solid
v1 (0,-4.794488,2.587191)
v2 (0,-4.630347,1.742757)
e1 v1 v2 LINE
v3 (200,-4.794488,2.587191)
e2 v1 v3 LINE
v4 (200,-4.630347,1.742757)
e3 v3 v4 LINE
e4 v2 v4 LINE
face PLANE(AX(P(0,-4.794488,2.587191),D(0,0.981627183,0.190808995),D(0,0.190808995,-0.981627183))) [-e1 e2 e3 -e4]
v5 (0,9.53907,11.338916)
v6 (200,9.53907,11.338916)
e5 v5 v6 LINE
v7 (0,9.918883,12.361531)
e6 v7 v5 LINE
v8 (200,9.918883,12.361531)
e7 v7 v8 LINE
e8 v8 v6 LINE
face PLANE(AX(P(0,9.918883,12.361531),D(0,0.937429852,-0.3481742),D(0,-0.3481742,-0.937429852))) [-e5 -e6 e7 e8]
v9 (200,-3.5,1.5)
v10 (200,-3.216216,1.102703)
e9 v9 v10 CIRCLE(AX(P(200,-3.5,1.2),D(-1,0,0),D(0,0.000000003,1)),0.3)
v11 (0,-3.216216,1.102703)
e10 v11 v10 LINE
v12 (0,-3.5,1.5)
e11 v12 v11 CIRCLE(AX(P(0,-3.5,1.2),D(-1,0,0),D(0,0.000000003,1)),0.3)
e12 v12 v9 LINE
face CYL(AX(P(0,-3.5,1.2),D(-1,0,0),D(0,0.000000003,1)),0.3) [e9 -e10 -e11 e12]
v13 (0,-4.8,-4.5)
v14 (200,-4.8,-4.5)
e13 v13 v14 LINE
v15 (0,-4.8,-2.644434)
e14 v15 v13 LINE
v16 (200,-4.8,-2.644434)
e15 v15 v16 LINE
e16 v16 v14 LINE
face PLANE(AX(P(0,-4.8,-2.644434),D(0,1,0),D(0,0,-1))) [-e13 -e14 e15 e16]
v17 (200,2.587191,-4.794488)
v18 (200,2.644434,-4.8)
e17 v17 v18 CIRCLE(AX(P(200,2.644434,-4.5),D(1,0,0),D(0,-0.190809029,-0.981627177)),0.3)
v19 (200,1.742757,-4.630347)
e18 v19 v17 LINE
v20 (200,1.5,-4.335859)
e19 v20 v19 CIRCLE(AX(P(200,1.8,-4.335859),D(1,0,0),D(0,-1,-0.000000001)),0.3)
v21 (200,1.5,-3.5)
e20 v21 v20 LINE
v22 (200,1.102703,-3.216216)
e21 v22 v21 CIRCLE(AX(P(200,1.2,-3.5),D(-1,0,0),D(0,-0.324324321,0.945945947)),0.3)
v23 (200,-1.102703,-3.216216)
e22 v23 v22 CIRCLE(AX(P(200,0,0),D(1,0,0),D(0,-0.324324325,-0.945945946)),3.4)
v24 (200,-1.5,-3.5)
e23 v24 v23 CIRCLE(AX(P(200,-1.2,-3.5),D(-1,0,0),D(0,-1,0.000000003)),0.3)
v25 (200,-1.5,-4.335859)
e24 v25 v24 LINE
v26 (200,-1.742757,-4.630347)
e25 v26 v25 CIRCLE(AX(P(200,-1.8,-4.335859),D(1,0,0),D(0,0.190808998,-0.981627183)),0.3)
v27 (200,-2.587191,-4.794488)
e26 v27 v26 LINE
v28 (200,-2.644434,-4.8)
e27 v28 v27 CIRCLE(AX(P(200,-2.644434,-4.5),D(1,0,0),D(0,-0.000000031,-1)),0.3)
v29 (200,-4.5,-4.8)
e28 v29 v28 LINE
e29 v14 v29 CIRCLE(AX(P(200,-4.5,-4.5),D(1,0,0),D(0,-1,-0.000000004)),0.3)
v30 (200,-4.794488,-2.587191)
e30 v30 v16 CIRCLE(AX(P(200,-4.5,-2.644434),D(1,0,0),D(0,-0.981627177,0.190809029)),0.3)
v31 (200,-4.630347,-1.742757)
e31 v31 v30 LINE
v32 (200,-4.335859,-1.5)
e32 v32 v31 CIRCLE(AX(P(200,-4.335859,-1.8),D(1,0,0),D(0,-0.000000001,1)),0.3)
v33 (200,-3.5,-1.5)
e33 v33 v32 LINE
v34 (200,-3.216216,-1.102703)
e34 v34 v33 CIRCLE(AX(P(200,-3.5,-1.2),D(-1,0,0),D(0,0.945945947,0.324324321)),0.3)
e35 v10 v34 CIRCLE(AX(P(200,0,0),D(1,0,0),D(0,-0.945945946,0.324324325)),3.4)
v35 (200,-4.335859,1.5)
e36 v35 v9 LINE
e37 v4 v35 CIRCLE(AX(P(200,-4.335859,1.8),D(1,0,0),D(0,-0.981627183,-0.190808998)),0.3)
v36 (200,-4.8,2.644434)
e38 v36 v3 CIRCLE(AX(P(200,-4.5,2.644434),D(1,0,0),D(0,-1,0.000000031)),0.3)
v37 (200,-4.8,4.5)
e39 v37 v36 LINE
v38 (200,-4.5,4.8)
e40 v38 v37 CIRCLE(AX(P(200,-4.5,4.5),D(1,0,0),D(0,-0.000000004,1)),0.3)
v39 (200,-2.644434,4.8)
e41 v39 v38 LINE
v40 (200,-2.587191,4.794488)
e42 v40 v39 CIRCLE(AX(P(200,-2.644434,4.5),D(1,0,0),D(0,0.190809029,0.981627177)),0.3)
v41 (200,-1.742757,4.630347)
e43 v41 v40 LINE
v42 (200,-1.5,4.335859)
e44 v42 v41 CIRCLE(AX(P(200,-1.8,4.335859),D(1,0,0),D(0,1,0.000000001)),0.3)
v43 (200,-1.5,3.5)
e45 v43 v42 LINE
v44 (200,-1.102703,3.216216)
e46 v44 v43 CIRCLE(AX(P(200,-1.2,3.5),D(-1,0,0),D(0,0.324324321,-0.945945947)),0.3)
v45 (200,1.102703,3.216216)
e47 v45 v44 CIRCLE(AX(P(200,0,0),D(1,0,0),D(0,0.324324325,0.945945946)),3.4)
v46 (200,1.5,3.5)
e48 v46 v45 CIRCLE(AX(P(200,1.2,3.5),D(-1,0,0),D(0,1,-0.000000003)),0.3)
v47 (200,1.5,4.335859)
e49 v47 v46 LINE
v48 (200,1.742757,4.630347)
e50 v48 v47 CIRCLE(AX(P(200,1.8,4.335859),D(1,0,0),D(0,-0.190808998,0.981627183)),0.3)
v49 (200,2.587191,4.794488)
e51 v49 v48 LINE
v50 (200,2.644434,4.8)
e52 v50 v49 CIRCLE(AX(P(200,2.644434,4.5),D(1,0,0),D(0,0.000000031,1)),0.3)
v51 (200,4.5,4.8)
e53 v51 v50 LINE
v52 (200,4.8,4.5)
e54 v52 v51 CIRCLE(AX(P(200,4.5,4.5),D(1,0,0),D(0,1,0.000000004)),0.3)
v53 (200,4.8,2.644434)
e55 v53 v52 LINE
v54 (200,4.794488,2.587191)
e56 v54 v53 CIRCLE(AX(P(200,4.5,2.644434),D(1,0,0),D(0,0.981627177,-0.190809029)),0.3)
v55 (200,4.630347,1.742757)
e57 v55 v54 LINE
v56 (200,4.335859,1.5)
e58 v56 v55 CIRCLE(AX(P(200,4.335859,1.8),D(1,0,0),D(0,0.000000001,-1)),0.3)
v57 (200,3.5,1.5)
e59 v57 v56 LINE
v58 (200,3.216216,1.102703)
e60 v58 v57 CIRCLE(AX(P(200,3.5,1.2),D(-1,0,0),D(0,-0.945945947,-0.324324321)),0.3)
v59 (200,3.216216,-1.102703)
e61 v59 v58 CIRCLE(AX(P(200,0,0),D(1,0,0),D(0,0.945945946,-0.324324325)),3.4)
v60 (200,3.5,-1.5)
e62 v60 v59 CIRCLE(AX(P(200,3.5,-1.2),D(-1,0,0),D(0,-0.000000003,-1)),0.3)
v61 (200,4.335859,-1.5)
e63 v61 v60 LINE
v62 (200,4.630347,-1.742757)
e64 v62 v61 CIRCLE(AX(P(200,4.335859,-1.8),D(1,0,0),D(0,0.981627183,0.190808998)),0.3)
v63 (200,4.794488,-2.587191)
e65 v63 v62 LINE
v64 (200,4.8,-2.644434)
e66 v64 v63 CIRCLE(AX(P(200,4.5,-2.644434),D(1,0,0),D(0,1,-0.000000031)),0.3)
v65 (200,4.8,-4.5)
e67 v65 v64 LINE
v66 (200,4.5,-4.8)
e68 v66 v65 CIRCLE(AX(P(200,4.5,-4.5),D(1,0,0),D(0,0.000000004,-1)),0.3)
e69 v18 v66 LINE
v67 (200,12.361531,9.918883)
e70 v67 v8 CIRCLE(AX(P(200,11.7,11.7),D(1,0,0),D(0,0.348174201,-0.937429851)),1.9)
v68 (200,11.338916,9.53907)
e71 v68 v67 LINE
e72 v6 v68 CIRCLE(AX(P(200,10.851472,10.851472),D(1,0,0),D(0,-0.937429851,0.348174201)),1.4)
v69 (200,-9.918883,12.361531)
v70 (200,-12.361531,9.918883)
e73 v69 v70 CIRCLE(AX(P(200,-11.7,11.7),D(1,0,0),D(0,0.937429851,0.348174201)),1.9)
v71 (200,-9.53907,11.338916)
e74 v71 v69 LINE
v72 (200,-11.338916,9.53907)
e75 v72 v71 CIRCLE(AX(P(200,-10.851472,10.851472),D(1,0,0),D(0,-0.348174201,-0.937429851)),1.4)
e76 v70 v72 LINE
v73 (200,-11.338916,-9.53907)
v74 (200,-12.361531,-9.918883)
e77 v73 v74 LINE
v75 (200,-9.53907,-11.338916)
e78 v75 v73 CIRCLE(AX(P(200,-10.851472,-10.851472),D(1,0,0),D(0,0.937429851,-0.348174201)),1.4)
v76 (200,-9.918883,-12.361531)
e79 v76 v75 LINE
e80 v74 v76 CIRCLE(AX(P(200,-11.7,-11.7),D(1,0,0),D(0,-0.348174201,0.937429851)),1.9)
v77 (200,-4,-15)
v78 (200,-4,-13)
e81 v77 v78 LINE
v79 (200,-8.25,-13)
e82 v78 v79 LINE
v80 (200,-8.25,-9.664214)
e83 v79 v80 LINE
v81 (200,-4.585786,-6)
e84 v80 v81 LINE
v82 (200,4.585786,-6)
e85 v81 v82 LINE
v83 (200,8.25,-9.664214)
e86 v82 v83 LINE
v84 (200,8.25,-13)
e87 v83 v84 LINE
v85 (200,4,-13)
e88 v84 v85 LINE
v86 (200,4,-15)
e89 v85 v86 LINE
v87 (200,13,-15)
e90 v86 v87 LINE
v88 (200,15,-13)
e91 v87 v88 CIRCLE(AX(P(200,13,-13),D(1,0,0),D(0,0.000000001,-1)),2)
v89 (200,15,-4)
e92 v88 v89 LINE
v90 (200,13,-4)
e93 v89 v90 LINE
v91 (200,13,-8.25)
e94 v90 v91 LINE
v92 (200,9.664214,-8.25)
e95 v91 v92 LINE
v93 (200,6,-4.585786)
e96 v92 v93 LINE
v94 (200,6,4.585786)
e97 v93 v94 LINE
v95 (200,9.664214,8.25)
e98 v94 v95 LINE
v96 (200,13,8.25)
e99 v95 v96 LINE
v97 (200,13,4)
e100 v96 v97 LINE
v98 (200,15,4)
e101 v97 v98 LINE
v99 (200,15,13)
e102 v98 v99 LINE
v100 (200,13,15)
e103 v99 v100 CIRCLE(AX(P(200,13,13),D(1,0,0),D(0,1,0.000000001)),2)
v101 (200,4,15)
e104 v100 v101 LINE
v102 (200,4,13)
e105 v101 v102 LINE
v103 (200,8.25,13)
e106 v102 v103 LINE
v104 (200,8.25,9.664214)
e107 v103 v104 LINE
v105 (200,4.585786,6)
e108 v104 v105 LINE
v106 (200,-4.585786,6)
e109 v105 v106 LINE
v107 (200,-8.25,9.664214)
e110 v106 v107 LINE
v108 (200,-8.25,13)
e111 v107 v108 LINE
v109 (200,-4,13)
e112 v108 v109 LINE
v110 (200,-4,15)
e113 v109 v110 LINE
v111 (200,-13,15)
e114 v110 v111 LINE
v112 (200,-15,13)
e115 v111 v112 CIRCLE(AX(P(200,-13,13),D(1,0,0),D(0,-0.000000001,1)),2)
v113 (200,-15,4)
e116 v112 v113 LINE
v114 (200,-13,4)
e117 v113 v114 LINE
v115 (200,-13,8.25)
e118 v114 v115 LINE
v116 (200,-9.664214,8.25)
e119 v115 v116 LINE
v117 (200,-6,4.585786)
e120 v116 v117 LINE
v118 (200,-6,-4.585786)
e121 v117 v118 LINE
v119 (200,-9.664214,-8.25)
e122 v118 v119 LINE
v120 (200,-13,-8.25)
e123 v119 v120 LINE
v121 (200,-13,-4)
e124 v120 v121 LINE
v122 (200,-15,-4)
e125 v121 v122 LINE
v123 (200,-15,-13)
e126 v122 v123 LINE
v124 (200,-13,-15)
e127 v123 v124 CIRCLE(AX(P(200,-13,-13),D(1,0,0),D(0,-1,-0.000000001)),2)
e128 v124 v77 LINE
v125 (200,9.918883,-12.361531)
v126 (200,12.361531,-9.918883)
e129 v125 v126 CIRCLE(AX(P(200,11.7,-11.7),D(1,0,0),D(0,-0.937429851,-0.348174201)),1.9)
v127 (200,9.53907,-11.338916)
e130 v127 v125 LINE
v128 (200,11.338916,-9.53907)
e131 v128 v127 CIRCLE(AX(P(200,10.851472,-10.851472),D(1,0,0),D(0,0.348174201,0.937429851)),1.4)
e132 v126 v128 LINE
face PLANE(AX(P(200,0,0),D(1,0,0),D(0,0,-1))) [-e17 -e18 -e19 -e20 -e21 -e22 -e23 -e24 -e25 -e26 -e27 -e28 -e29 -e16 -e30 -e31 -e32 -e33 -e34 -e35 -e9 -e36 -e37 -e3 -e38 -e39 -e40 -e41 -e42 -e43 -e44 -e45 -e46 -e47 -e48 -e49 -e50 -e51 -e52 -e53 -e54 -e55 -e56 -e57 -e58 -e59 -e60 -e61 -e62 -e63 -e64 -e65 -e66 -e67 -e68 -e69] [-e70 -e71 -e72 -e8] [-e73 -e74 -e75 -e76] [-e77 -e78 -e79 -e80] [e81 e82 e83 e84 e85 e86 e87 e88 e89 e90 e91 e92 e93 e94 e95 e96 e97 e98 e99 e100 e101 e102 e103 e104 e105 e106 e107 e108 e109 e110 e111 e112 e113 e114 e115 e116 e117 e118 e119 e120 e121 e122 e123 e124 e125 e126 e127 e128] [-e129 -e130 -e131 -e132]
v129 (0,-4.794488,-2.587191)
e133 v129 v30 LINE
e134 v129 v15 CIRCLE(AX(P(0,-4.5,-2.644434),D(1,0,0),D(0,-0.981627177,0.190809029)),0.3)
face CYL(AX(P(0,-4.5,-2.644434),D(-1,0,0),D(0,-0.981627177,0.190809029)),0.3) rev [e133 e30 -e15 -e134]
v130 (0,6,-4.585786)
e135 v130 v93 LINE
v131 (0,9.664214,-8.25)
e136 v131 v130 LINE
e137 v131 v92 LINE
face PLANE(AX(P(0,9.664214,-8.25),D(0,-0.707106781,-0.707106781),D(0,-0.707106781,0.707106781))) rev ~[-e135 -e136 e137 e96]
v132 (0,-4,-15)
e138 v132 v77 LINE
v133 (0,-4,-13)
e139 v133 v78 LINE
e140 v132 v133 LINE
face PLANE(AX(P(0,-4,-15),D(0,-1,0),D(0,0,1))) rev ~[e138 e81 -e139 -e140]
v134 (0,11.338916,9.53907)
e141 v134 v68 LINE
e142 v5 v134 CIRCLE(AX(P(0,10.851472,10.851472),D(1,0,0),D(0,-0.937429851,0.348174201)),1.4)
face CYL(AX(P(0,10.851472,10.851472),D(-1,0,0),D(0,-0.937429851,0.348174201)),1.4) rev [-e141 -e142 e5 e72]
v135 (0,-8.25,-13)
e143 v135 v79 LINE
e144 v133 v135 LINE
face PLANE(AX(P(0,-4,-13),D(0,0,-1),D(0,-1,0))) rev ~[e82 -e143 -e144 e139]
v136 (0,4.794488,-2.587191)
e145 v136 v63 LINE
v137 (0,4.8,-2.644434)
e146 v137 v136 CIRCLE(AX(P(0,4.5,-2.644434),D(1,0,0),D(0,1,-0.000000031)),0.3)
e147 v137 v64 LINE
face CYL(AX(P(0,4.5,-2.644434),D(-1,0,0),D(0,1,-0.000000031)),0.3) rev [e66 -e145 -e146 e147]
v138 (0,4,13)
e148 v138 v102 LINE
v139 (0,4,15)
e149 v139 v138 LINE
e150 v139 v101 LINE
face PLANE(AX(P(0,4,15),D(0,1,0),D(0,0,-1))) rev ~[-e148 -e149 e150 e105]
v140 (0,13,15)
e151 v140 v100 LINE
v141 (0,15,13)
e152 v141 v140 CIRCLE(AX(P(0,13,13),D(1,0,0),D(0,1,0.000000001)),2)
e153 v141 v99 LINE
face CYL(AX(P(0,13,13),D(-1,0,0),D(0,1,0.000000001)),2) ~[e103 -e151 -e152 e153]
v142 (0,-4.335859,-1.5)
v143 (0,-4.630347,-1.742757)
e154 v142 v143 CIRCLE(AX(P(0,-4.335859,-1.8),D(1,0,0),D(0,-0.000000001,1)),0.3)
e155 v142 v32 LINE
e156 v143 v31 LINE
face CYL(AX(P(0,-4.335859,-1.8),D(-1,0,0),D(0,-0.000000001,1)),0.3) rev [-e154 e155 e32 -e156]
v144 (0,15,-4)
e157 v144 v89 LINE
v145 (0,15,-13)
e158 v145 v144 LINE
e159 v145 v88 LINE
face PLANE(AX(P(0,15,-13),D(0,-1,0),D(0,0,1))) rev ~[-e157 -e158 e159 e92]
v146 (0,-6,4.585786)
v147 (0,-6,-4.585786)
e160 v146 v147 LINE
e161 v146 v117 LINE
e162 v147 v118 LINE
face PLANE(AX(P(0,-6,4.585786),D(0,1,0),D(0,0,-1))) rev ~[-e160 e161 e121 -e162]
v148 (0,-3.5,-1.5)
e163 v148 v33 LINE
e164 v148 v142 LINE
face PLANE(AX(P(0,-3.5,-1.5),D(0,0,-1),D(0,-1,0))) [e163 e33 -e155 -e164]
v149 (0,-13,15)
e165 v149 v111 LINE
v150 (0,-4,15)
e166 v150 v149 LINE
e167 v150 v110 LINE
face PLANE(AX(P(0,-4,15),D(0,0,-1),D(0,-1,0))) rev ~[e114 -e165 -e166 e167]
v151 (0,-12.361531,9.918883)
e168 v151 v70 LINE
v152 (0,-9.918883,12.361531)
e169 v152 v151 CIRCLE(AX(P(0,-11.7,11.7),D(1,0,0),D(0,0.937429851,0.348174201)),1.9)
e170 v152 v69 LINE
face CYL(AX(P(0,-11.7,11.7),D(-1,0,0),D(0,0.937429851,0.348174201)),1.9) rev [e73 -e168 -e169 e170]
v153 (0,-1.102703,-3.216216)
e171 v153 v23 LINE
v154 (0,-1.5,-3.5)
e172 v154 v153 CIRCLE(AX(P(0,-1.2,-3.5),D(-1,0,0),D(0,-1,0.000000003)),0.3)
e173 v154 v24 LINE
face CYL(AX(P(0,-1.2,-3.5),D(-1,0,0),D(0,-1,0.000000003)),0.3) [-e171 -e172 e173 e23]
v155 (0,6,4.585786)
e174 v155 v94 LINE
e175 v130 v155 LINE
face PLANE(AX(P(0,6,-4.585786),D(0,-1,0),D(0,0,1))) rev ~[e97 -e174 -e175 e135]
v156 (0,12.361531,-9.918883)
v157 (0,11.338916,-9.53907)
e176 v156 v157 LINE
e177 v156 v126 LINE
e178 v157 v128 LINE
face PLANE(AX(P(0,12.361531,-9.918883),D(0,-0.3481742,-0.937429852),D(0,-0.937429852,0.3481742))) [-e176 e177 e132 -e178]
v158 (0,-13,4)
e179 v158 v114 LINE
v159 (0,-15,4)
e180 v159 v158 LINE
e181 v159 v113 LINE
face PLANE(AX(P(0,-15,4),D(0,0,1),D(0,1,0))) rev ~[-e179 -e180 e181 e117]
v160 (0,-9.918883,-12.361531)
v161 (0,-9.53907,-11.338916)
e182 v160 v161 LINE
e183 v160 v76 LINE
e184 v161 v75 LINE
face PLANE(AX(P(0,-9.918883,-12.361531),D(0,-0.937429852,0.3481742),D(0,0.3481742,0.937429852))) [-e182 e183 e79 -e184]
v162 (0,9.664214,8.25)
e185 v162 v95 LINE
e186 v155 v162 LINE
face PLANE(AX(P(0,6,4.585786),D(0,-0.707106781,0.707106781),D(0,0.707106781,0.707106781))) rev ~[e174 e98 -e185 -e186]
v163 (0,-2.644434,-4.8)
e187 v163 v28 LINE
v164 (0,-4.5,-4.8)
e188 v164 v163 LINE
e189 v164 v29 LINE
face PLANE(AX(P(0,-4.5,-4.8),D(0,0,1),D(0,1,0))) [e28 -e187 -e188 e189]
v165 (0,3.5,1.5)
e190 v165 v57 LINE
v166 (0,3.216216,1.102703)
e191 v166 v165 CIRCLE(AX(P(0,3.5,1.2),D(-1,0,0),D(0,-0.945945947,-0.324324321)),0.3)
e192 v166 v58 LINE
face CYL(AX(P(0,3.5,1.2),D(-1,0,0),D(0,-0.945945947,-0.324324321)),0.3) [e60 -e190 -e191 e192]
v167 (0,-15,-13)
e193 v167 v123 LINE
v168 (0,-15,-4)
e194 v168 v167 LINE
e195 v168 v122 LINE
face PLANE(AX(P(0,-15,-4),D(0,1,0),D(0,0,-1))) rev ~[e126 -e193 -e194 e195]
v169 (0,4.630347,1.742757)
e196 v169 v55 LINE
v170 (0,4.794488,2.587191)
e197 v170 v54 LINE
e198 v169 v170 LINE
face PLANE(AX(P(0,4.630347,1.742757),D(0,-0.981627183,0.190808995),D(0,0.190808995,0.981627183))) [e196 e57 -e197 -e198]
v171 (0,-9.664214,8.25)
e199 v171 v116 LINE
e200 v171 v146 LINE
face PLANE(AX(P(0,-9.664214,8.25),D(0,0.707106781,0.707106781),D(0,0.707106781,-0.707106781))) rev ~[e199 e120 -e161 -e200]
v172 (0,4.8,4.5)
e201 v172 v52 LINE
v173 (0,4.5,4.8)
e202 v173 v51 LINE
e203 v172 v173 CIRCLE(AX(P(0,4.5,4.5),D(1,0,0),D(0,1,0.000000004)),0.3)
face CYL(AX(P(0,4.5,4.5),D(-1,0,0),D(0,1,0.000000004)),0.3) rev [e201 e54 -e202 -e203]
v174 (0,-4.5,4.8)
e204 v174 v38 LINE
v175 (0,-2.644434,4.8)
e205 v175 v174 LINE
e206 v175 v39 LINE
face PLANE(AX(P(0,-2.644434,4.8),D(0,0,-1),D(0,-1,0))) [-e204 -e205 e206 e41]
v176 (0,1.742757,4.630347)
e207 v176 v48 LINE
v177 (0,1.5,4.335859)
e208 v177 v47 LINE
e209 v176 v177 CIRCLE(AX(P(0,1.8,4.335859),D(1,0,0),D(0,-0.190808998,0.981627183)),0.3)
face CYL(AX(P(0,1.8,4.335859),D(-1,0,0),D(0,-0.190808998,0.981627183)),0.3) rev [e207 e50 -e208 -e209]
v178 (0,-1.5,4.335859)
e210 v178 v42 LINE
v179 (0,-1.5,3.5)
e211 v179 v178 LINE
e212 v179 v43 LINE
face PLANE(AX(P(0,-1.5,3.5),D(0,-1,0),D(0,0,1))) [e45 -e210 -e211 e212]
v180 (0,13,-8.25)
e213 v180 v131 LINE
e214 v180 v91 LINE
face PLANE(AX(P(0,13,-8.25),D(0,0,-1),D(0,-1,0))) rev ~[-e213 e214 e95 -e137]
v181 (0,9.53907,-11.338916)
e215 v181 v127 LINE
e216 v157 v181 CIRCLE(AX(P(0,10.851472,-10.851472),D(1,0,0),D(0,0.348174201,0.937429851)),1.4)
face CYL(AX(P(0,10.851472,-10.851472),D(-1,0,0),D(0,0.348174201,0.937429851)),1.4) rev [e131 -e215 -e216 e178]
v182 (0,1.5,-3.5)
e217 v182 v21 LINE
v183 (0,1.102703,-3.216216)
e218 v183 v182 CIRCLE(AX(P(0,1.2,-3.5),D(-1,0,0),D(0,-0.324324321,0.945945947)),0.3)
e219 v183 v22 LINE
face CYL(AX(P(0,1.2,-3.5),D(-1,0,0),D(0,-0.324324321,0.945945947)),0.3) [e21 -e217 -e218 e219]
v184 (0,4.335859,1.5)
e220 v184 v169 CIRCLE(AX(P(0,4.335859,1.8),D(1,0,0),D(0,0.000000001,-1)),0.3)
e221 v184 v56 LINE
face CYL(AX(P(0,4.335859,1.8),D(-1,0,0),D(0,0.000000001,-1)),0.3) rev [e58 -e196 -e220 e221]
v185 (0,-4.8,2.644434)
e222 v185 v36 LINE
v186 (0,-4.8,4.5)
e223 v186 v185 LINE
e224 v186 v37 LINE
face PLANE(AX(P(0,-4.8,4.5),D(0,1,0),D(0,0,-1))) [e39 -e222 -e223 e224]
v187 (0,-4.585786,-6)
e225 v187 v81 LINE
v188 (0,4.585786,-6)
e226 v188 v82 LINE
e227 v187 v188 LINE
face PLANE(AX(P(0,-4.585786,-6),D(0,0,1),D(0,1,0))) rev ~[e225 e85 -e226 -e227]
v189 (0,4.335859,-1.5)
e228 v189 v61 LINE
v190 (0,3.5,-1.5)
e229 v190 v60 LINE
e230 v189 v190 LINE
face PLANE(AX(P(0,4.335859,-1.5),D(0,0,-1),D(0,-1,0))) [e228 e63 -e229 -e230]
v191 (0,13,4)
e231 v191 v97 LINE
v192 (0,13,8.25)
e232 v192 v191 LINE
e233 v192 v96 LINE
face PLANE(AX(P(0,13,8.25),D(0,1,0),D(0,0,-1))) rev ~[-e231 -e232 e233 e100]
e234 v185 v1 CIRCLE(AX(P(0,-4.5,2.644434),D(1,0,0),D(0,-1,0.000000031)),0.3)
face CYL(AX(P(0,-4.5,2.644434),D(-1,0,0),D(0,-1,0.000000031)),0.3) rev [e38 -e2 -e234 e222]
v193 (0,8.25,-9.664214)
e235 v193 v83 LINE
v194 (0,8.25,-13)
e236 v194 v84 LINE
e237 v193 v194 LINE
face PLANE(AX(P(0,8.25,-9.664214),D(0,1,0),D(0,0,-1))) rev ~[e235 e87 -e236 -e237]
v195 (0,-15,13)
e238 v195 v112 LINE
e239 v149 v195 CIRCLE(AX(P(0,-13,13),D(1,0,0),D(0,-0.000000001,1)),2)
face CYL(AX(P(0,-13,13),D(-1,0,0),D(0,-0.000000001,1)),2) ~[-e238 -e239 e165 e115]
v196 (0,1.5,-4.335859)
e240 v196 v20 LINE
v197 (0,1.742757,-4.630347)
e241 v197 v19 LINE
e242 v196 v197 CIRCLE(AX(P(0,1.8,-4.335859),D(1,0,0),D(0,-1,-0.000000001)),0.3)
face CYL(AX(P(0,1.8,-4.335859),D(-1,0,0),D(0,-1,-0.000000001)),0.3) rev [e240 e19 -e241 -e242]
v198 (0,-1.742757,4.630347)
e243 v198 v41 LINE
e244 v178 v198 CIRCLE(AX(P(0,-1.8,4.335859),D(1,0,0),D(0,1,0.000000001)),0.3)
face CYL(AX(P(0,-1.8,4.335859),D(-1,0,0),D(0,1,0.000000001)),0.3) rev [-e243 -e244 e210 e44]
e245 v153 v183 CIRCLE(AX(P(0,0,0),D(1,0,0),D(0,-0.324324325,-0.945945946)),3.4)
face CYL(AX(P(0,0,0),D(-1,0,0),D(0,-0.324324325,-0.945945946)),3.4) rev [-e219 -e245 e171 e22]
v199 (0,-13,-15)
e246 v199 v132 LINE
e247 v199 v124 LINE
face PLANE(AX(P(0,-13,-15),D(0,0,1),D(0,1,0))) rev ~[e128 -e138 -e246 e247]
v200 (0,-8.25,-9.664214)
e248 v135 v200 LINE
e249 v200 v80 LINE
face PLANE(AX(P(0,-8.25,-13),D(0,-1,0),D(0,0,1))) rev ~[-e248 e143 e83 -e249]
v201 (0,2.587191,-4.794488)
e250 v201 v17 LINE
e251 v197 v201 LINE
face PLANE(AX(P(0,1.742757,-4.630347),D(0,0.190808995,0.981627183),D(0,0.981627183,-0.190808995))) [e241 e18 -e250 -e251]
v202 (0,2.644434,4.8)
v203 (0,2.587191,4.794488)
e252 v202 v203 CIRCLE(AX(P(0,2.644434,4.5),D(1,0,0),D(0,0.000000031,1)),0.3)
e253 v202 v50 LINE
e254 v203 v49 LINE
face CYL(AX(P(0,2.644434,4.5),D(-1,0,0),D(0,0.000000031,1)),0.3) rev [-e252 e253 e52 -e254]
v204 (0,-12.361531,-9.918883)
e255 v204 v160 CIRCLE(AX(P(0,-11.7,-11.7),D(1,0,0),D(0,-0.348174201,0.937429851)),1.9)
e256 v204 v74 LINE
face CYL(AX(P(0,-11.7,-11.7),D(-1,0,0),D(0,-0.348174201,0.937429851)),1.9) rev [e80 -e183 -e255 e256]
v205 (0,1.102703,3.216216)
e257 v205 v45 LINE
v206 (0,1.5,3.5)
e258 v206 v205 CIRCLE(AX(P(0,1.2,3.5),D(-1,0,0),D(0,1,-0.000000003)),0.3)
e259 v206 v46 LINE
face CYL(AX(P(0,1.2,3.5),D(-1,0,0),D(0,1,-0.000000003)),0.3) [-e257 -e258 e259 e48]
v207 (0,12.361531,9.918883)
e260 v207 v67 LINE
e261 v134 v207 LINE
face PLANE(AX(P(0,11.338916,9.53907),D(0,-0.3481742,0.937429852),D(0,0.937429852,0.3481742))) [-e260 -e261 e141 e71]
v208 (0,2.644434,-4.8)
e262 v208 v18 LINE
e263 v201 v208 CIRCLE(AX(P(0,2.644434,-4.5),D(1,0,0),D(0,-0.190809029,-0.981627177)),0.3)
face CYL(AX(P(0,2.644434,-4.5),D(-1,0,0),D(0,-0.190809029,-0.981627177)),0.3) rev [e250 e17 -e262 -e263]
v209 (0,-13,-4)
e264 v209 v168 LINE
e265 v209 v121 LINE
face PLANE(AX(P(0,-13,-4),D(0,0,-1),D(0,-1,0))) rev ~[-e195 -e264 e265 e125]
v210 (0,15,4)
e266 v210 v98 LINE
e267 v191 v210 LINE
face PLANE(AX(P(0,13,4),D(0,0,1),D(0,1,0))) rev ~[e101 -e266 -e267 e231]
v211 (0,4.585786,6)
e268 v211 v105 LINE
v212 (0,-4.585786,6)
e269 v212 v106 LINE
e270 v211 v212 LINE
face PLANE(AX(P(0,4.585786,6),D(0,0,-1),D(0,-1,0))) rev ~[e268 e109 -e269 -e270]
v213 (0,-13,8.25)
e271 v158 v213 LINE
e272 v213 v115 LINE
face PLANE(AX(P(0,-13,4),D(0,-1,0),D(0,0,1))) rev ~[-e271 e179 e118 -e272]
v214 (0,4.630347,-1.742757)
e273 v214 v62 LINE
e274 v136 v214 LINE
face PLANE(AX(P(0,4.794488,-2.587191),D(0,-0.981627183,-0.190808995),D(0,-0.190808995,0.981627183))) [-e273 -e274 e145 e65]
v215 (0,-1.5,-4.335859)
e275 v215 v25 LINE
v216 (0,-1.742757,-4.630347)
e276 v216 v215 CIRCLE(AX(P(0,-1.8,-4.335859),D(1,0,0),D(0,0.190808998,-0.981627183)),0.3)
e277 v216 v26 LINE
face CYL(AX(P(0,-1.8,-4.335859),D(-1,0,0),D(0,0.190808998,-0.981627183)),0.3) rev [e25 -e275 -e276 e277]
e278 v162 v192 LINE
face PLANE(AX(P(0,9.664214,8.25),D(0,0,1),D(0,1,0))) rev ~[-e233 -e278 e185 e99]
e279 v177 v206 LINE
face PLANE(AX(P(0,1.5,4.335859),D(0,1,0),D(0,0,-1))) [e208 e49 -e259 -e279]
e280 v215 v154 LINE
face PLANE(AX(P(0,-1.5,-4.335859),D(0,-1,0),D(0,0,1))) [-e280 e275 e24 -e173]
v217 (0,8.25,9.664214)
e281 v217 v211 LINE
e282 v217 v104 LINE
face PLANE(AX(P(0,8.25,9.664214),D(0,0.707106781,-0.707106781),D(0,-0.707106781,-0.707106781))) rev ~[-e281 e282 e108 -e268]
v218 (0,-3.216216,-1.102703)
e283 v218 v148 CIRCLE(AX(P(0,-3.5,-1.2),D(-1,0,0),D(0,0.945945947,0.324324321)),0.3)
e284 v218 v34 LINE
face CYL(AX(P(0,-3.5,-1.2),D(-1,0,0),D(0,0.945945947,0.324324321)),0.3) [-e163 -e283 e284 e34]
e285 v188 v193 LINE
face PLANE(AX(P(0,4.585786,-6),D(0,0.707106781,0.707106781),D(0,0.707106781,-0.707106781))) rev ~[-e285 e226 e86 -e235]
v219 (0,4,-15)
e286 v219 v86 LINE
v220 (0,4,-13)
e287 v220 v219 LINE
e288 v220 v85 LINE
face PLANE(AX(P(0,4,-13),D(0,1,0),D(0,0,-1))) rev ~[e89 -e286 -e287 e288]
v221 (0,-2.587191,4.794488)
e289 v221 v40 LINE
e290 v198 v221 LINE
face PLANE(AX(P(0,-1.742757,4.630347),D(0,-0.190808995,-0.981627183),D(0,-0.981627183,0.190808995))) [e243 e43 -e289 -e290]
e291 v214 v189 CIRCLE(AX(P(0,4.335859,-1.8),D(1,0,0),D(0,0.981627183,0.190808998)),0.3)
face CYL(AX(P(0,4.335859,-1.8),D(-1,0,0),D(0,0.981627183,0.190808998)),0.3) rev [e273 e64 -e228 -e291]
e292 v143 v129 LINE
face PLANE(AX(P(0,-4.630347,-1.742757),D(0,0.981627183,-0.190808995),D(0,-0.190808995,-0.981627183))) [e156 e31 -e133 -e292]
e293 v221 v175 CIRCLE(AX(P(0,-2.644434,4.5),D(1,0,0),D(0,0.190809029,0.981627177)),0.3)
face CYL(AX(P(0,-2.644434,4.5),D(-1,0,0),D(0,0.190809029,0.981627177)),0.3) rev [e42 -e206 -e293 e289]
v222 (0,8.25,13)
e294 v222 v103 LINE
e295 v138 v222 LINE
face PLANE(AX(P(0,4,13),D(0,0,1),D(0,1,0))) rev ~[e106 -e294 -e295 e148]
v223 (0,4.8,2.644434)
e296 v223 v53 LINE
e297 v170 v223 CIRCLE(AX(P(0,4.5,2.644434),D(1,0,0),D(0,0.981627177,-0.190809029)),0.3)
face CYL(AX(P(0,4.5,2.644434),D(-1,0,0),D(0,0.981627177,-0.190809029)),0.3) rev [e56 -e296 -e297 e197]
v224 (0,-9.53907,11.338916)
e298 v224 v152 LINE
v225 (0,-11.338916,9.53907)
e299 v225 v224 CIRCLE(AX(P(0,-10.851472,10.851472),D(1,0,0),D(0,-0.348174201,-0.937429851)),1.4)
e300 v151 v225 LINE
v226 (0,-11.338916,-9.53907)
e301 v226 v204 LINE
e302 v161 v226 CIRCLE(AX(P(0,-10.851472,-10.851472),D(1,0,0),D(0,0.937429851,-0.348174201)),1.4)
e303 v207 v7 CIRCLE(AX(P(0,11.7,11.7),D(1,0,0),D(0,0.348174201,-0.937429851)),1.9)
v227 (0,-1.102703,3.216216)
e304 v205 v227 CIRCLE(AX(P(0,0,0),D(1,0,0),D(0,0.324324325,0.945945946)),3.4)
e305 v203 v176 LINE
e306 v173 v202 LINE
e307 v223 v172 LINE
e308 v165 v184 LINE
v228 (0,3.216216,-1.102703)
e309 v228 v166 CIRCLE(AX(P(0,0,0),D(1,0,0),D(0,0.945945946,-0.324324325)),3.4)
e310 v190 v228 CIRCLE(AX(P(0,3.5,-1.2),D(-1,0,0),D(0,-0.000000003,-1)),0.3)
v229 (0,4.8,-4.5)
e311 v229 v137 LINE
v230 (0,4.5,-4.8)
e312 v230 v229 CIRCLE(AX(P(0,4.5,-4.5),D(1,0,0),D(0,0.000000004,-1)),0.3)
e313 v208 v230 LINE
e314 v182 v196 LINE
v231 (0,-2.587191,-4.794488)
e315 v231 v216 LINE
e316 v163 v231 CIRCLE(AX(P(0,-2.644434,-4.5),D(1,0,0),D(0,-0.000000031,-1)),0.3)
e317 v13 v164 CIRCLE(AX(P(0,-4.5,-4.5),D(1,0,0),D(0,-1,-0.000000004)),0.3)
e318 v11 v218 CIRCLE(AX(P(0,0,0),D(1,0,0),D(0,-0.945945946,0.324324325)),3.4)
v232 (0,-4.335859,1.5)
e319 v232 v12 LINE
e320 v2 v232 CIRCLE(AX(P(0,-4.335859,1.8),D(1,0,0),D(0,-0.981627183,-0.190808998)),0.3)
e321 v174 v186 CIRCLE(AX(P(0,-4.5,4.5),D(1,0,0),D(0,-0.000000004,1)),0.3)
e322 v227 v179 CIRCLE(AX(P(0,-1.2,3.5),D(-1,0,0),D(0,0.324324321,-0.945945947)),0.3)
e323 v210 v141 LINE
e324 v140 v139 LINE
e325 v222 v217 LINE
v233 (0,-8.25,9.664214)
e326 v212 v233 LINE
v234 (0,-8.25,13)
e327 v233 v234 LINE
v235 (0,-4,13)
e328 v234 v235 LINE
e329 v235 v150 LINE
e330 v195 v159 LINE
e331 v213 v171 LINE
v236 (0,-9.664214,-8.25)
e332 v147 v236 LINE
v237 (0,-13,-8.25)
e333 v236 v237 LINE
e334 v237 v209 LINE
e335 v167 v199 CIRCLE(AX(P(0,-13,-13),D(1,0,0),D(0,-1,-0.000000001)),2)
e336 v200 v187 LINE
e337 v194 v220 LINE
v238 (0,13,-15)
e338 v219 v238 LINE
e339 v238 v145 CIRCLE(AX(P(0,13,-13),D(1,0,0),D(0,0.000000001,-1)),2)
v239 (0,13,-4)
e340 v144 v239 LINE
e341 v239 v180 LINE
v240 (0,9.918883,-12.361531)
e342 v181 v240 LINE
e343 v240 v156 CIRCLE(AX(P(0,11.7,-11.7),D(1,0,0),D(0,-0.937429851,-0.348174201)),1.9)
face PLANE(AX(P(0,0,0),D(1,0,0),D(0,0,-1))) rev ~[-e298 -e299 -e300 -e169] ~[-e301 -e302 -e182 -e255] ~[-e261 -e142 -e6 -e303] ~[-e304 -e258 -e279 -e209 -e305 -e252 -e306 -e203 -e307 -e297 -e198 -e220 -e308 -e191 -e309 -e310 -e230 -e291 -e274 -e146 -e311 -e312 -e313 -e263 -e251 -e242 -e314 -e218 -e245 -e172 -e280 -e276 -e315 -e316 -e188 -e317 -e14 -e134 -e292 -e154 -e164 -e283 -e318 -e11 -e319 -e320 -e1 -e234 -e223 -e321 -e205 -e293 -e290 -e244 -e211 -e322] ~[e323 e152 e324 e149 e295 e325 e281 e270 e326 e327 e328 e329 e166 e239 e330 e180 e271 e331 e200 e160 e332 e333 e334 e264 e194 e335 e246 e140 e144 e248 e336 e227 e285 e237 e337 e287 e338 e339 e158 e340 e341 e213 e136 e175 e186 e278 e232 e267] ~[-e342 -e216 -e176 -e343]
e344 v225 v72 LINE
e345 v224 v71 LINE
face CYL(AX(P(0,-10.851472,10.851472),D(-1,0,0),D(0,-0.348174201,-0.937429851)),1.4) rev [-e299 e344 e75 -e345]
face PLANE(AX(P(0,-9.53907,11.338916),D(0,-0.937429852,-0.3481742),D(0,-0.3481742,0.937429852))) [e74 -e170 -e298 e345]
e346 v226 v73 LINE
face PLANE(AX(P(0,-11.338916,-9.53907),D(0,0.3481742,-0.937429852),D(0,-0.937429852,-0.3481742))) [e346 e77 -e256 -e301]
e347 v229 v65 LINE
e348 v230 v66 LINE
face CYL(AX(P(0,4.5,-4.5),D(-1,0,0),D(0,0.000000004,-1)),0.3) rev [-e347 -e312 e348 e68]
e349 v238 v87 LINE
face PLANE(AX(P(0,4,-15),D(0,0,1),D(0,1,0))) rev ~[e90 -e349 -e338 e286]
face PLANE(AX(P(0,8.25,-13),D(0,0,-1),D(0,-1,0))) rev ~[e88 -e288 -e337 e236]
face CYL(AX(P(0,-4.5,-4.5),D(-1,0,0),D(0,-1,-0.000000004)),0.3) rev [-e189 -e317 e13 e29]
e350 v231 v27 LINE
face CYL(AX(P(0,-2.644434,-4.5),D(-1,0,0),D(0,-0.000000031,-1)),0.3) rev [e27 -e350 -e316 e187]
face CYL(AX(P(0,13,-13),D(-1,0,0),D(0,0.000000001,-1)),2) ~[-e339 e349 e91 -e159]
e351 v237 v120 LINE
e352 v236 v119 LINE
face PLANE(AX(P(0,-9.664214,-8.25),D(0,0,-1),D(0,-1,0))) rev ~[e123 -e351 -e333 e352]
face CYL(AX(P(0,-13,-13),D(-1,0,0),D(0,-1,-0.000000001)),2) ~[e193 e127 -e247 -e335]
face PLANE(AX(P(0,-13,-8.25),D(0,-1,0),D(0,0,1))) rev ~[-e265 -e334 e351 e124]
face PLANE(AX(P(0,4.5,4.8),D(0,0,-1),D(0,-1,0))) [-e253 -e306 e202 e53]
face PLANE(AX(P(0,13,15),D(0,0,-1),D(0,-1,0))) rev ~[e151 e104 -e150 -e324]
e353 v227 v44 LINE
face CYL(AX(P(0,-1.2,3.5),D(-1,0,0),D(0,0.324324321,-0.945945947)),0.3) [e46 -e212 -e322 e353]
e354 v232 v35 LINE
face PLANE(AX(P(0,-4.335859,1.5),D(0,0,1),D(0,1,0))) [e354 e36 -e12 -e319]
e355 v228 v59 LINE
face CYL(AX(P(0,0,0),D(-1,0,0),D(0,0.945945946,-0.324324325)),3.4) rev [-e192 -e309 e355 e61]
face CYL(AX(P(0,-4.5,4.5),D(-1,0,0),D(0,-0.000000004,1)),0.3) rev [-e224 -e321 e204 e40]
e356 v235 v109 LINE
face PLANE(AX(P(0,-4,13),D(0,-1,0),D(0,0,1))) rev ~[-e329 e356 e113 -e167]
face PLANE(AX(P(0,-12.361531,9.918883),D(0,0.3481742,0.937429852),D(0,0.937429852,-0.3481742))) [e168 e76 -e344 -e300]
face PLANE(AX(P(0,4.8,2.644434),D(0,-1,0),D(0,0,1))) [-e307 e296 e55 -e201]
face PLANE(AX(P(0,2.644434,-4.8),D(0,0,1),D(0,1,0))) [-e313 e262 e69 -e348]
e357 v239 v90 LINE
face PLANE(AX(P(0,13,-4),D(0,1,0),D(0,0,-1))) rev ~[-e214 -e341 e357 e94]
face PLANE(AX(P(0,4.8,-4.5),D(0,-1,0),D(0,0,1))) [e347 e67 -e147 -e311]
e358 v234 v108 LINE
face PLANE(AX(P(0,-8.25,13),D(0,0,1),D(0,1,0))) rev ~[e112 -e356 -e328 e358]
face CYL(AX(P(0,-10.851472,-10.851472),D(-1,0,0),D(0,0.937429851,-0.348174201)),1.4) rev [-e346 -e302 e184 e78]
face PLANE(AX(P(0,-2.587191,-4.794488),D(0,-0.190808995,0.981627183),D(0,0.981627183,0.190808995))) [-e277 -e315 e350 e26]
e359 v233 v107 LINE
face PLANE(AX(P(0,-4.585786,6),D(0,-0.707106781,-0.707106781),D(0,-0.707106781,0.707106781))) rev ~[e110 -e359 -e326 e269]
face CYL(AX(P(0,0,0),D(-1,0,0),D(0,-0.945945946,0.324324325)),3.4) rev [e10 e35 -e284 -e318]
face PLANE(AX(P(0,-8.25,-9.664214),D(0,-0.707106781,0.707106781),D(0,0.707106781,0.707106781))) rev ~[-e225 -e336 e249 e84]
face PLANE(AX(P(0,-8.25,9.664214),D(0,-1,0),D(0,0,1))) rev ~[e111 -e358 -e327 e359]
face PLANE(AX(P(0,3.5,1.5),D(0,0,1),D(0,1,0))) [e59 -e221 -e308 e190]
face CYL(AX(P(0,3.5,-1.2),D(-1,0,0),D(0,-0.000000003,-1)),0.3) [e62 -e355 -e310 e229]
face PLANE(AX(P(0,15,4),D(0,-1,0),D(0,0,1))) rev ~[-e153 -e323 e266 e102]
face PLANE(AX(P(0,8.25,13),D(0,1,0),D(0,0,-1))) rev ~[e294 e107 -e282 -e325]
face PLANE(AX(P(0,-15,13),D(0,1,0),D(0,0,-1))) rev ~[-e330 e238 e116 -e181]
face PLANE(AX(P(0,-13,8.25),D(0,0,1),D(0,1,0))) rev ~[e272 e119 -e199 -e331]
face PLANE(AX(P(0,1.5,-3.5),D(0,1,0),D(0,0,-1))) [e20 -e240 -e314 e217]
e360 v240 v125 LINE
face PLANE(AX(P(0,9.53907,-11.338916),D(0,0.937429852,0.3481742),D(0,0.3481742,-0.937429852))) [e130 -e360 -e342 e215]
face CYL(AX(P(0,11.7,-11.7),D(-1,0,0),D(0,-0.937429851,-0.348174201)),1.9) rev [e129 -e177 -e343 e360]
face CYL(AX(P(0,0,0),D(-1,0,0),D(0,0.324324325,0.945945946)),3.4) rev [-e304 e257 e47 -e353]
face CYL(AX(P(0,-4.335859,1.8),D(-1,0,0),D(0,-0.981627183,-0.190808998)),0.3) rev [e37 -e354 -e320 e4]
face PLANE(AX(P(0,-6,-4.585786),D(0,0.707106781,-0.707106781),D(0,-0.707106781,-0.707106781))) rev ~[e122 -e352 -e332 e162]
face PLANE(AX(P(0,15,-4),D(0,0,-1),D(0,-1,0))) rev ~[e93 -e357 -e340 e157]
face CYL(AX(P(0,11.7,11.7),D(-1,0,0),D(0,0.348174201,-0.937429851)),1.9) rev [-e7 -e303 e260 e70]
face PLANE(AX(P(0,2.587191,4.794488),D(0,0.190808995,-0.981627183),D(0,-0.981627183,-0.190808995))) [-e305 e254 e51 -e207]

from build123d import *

# Parameters (mm, degrees)
BOSS_EXTRUDE1_DEPTH = 200


with BuildPart() as part:
    # Sketch1 → Boss-Extrude1 (new body)
    with BuildSketch(Plane(origin=(0, 0, 0), x_dir=(0, 0, -1), z_dir=(1, 0, 0))):
        with BuildLine():
            Line((-15, 13), (-15, 4))
            Line((-15, 4), (-13, 4))
            Line((-13, 4), (-13, 8.25))
            Line((-13, 8.25), (-9.664213562, 8.25))
            Line((-9.664213562, 8.25), (-6, 4.585786438))
            Line((-6, 4.585786438), (-6, -4.585786438))
            Line((-6, -4.585786438), (-9.664213562, -8.25))
            Line((-9.664213562, -8.25), (-13, -8.25))
            Line((-13, -8.25), (-13, -4))
            Line((-13, -4), (-15, -4))
            Line((-15, -4), (-15, -13))
            ThreePointArc((-15, -13), (-14.414213562, -14.414213562), (-13, -15))
            Line((-13, -15), (-4, -15))
            Line((-4, -15), (-4, -13))
            Line((-4, -13), (-8.25, -13))
            Line((-8.25, -13), (-8.25, -9.664213562))
            Line((-8.25, -9.664213562), (-4.585786438, -6))
            Line((-4.585786438, -6), (4.585786438, -6))
            Line((4.585786438, -6), (8.25, -9.664213562))
            Line((8.25, -9.664213562), (8.25, -13))
            Line((8.25, -13), (4, -13))
            Line((4, -13), (4, -15))
            Line((4, -15), (13, -15))
            ThreePointArc((13, -15), (14.414213562, -14.414213562), (15, -13))
            Line((15, -13), (15, -4))
            Line((15, -4), (13, -4))
            Line((13, -4), (13, -8.25))
            Line((13, -8.25), (9.664213562, -8.25))
            Line((9.664213562, -8.25), (6, -4.585786438))
            Line((6, -4.585786438), (6, 4.585786438))
            Line((6, 4.585786438), (9.664213562, 8.25))
            Line((9.664213562, 8.25), (13, 8.25))
            Line((13, 8.25), (13, 4))
            Line((13, 4), (15, 4))
            Line((15, 4), (15, 13))
            ThreePointArc((15, 13), (14.414213562, 14.414213562), (13, 15))
            Line((13, 15), (4, 15))
            Line((4, 15), (4, 13))
            Line((4, 13), (8.25, 13))
            Line((8.25, 13), (8.25, 9.664213562))
            Line((8.25, 9.664213562), (4.585786438, 6))
            Line((4.585786438, 6), (-4.585786438, 6))
            Line((-4.585786438, 6), (-8.25, 9.664213562))
            Line((-8.25, 9.664213562), (-8.25, 13))
            Line((-8.25, 13), (-4, 13))
            Line((-4, 13), (-4, 15))
            Line((-4, 15), (-13, 15))
            ThreePointArc((-13, 15), (-14.414213562, 14.414213562), (-15, 13))
        make_face()
        with BuildLine():
            Line((-9.539070071, 11.338915743), (-9.918883282, 12.361530981))
            ThreePointArc((-9.918883282, 12.361530981), (-13.043502884, 13.043502884), (-12.361530981, 9.918883282))
            Line((-12.361530981, 9.918883282), (-11.338915743, 9.539070071))
            ThreePointArc((-11.338915743, 9.539070071), (-9.861522369, 9.861522369), (-9.539070071, 11.338915743))
        make_face(mode=Mode.SUBTRACT)
        with BuildLine():
            Line((9.918883282, 12.361530981), (9.539070071, 11.338915743))
            ThreePointArc((9.539070071, 11.338915743), (9.861522369, 9.861522369), (11.338915743, 9.539070071))
            Line((11.338915743, 9.539070071), (12.361530981, 9.918883282))
            ThreePointArc((12.361530981, 9.918883282), (13.043502884, 13.043502884), (9.918883282, 12.361530981))
        make_face(mode=Mode.SUBTRACT)
        with BuildLine():
            Line((12.361530981, -9.918883282), (11.338915743, -9.539070071))
            ThreePointArc((11.338915743, -9.539070071), (9.861522369, -9.861522369), (9.539070071, -11.338915743))
            Line((9.539070071, -11.338915743), (9.918883282, -12.361530981))
            ThreePointArc((9.918883282, -12.361530981), (13.043502884, -13.043502884), (12.361530981, -9.918883282))
        make_face(mode=Mode.SUBTRACT)
        with BuildLine():
            Line((-11.338915743, -9.539070071), (-12.361530981, -9.918883282))
            ThreePointArc((-12.361530981, -9.918883282), (-13.043502884, -13.043502884), (-9.918883282, -12.361530981))
            Line((-9.918883282, -12.361530981), (-9.539070071, -11.338915743))
            ThreePointArc((-9.539070071, -11.338915743), (-9.861522369, -9.861522369), (-11.338915743, -9.539070071))
        make_face(mode=Mode.SUBTRACT)
        with BuildLine():
            Line((-4.8, -2.644433572), (-4.8, -4.5))
            ThreePointArc((-4.8, -4.5), (-4.712132034, -4.712132034), (-4.5, -4.8))
            Line((-4.5, -4.8), (-2.644433572, -4.8))
            ThreePointArc((-2.644433572, -4.8), (-2.615679847, -4.79861886), (-2.587190874, -4.794488155))
            Line((-2.587190874, -4.794488155), (-1.742757301, -4.630346896))
            ThreePointArc((-1.742757301, -4.630346896), (-1.568512625, -4.526682207), (-1.5, -4.335858741))
            Line((-1.5, -4.335858741), (-1.5, -3.5))
            ThreePointArc((-1.5, -3.5), (-1.374371458, -3.255879959), (-1.102702703, -3.216216216))
            ThreePointArc((-1.102702703, -3.216216216), (0, -3.4), (1.102702703, -3.216216216))
            ThreePointArc((1.102702703, -3.216216216), (1.374371458, -3.255879959), (1.5, -3.5))
            Line((1.5, -3.5), (1.5, -4.335858741))
            ThreePointArc((1.5, -4.335858741), (1.568512625, -4.526682207), (1.742757301, -4.630346896))
            Line((1.742757301, -4.630346896), (2.587190874, -4.794488155))
            ThreePointArc((2.587190874, -4.794488155), (2.615679847, -4.79861886), (2.644433572, -4.8))
            Line((2.644433572, -4.8), (4.5, -4.8))
            ThreePointArc((4.5, -4.8), (4.712132034, -4.712132034), (4.8, -4.5))
            Line((4.8, -4.5), (4.8, -2.644433572))
            ThreePointArc((4.8, -2.644433572), (4.79861886, -2.615679847), (4.794488155, -2.587190874))
            Line((4.794488155, -2.587190874), (4.630346896, -1.742757301))
            ThreePointArc((4.630346896, -1.742757301), (4.526682207, -1.568512625), (4.335858741, -1.5))
            Line((4.335858741, -1.5), (3.5, -1.5))
            ThreePointArc((3.5, -1.5), (3.255879959, -1.374371458), (3.216216216, -1.102702703))
            ThreePointArc((3.216216216, -1.102702703), (3.4, 0), (3.216216216, 1.102702703))
            ThreePointArc((3.216216216, 1.102702703), (3.255879959, 1.374371458), (3.5, 1.5))
            Line((3.5, 1.5), (4.335858741, 1.5))
            ThreePointArc((4.335858741, 1.5), (4.526682207, 1.568512625), (4.630346896, 1.742757301))
            Line((4.630346896, 1.742757301), (4.794488155, 2.587190874))
            ThreePointArc((4.794488155, 2.587190874), (4.79861886, 2.615679847), (4.8, 2.644433572))
            Line((4.8, 2.644433572), (4.8, 4.5))
            ThreePointArc((4.8, 4.5), (4.712132034, 4.712132034), (4.5, 4.8))
            Line((4.5, 4.8), (2.644433572, 4.8))
            ThreePointArc((2.644433572, 4.8), (2.615679847, 4.79861886), (2.587190874, 4.794488155))
            Line((2.587190874, 4.794488155), (1.742757301, 4.630346896))
            ThreePointArc((1.742757301, 4.630346896), (1.568512625, 4.526682207), (1.5, 4.335858741))
            Line((1.5, 4.335858741), (1.5, 3.5))
            ThreePointArc((1.5, 3.5), (1.374371458, 3.255879959), (1.102702703, 3.216216216))
            ThreePointArc((1.102702703, 3.216216216), (0, 3.4), (-1.102702703, 3.216216216))
            ThreePointArc((-1.102702703, 3.216216216), (-1.374371458, 3.255879959), (-1.5, 3.5))
            Line((-1.5, 3.5), (-1.5, 4.335858741))
            ThreePointArc((-1.5, 4.335858741), (-1.568512625, 4.526682207), (-1.742757301, 4.630346896))
            Line((-1.742757301, 4.630346896), (-2.587190874, 4.794488155))
            ThreePointArc((-2.587190874, 4.794488155), (-2.615679847, 4.79861886), (-2.644433572, 4.8))
            Line((-2.644433572, 4.8), (-4.5, 4.8))
            ThreePointArc((-4.5, 4.8), (-4.712132034, 4.712132034), (-4.8, 4.5))
            Line((-4.8, 4.5), (-4.8, 2.644433572))
            ThreePointArc((-4.8, 2.644433572), (-4.79861886, 2.615679847), (-4.794488155, 2.587190874))
            Line((-4.794488155, 2.587190874), (-4.630346896, 1.742757301))
            ThreePointArc((-4.630346896, 1.742757301), (-4.526682207, 1.568512625), (-4.335858741, 1.5))
            Line((-4.335858741, 1.5), (-3.5, 1.5))
            ThreePointArc((-3.5, 1.5), (-3.255879959, 1.374371458), (-3.216216216, 1.102702703))
            ThreePointArc((-3.216216216, 1.102702703), (-3.4, 0), (-3.216216216, -1.102702703))
            ThreePointArc((-3.216216216, -1.102702703), (-3.255879959, -1.374371458), (-3.5, -1.5))
            Line((-3.5, -1.5), (-4.335858741, -1.5))
            ThreePointArc((-4.335858741, -1.5), (-4.526682207, -1.568512625), (-4.630346896, -1.742757301))
            Line((-4.630346896, -1.742757301), (-4.794488155, -2.587190874))
            ThreePointArc((-4.794488155, -2.587190874), (-4.79861886, -2.615679847), (-4.8, -2.644433572))
        make_face(mode=Mode.SUBTRACT)
    extrude(amount=BOSS_EXTRUDE1_DEPTH)


solid = part.part
